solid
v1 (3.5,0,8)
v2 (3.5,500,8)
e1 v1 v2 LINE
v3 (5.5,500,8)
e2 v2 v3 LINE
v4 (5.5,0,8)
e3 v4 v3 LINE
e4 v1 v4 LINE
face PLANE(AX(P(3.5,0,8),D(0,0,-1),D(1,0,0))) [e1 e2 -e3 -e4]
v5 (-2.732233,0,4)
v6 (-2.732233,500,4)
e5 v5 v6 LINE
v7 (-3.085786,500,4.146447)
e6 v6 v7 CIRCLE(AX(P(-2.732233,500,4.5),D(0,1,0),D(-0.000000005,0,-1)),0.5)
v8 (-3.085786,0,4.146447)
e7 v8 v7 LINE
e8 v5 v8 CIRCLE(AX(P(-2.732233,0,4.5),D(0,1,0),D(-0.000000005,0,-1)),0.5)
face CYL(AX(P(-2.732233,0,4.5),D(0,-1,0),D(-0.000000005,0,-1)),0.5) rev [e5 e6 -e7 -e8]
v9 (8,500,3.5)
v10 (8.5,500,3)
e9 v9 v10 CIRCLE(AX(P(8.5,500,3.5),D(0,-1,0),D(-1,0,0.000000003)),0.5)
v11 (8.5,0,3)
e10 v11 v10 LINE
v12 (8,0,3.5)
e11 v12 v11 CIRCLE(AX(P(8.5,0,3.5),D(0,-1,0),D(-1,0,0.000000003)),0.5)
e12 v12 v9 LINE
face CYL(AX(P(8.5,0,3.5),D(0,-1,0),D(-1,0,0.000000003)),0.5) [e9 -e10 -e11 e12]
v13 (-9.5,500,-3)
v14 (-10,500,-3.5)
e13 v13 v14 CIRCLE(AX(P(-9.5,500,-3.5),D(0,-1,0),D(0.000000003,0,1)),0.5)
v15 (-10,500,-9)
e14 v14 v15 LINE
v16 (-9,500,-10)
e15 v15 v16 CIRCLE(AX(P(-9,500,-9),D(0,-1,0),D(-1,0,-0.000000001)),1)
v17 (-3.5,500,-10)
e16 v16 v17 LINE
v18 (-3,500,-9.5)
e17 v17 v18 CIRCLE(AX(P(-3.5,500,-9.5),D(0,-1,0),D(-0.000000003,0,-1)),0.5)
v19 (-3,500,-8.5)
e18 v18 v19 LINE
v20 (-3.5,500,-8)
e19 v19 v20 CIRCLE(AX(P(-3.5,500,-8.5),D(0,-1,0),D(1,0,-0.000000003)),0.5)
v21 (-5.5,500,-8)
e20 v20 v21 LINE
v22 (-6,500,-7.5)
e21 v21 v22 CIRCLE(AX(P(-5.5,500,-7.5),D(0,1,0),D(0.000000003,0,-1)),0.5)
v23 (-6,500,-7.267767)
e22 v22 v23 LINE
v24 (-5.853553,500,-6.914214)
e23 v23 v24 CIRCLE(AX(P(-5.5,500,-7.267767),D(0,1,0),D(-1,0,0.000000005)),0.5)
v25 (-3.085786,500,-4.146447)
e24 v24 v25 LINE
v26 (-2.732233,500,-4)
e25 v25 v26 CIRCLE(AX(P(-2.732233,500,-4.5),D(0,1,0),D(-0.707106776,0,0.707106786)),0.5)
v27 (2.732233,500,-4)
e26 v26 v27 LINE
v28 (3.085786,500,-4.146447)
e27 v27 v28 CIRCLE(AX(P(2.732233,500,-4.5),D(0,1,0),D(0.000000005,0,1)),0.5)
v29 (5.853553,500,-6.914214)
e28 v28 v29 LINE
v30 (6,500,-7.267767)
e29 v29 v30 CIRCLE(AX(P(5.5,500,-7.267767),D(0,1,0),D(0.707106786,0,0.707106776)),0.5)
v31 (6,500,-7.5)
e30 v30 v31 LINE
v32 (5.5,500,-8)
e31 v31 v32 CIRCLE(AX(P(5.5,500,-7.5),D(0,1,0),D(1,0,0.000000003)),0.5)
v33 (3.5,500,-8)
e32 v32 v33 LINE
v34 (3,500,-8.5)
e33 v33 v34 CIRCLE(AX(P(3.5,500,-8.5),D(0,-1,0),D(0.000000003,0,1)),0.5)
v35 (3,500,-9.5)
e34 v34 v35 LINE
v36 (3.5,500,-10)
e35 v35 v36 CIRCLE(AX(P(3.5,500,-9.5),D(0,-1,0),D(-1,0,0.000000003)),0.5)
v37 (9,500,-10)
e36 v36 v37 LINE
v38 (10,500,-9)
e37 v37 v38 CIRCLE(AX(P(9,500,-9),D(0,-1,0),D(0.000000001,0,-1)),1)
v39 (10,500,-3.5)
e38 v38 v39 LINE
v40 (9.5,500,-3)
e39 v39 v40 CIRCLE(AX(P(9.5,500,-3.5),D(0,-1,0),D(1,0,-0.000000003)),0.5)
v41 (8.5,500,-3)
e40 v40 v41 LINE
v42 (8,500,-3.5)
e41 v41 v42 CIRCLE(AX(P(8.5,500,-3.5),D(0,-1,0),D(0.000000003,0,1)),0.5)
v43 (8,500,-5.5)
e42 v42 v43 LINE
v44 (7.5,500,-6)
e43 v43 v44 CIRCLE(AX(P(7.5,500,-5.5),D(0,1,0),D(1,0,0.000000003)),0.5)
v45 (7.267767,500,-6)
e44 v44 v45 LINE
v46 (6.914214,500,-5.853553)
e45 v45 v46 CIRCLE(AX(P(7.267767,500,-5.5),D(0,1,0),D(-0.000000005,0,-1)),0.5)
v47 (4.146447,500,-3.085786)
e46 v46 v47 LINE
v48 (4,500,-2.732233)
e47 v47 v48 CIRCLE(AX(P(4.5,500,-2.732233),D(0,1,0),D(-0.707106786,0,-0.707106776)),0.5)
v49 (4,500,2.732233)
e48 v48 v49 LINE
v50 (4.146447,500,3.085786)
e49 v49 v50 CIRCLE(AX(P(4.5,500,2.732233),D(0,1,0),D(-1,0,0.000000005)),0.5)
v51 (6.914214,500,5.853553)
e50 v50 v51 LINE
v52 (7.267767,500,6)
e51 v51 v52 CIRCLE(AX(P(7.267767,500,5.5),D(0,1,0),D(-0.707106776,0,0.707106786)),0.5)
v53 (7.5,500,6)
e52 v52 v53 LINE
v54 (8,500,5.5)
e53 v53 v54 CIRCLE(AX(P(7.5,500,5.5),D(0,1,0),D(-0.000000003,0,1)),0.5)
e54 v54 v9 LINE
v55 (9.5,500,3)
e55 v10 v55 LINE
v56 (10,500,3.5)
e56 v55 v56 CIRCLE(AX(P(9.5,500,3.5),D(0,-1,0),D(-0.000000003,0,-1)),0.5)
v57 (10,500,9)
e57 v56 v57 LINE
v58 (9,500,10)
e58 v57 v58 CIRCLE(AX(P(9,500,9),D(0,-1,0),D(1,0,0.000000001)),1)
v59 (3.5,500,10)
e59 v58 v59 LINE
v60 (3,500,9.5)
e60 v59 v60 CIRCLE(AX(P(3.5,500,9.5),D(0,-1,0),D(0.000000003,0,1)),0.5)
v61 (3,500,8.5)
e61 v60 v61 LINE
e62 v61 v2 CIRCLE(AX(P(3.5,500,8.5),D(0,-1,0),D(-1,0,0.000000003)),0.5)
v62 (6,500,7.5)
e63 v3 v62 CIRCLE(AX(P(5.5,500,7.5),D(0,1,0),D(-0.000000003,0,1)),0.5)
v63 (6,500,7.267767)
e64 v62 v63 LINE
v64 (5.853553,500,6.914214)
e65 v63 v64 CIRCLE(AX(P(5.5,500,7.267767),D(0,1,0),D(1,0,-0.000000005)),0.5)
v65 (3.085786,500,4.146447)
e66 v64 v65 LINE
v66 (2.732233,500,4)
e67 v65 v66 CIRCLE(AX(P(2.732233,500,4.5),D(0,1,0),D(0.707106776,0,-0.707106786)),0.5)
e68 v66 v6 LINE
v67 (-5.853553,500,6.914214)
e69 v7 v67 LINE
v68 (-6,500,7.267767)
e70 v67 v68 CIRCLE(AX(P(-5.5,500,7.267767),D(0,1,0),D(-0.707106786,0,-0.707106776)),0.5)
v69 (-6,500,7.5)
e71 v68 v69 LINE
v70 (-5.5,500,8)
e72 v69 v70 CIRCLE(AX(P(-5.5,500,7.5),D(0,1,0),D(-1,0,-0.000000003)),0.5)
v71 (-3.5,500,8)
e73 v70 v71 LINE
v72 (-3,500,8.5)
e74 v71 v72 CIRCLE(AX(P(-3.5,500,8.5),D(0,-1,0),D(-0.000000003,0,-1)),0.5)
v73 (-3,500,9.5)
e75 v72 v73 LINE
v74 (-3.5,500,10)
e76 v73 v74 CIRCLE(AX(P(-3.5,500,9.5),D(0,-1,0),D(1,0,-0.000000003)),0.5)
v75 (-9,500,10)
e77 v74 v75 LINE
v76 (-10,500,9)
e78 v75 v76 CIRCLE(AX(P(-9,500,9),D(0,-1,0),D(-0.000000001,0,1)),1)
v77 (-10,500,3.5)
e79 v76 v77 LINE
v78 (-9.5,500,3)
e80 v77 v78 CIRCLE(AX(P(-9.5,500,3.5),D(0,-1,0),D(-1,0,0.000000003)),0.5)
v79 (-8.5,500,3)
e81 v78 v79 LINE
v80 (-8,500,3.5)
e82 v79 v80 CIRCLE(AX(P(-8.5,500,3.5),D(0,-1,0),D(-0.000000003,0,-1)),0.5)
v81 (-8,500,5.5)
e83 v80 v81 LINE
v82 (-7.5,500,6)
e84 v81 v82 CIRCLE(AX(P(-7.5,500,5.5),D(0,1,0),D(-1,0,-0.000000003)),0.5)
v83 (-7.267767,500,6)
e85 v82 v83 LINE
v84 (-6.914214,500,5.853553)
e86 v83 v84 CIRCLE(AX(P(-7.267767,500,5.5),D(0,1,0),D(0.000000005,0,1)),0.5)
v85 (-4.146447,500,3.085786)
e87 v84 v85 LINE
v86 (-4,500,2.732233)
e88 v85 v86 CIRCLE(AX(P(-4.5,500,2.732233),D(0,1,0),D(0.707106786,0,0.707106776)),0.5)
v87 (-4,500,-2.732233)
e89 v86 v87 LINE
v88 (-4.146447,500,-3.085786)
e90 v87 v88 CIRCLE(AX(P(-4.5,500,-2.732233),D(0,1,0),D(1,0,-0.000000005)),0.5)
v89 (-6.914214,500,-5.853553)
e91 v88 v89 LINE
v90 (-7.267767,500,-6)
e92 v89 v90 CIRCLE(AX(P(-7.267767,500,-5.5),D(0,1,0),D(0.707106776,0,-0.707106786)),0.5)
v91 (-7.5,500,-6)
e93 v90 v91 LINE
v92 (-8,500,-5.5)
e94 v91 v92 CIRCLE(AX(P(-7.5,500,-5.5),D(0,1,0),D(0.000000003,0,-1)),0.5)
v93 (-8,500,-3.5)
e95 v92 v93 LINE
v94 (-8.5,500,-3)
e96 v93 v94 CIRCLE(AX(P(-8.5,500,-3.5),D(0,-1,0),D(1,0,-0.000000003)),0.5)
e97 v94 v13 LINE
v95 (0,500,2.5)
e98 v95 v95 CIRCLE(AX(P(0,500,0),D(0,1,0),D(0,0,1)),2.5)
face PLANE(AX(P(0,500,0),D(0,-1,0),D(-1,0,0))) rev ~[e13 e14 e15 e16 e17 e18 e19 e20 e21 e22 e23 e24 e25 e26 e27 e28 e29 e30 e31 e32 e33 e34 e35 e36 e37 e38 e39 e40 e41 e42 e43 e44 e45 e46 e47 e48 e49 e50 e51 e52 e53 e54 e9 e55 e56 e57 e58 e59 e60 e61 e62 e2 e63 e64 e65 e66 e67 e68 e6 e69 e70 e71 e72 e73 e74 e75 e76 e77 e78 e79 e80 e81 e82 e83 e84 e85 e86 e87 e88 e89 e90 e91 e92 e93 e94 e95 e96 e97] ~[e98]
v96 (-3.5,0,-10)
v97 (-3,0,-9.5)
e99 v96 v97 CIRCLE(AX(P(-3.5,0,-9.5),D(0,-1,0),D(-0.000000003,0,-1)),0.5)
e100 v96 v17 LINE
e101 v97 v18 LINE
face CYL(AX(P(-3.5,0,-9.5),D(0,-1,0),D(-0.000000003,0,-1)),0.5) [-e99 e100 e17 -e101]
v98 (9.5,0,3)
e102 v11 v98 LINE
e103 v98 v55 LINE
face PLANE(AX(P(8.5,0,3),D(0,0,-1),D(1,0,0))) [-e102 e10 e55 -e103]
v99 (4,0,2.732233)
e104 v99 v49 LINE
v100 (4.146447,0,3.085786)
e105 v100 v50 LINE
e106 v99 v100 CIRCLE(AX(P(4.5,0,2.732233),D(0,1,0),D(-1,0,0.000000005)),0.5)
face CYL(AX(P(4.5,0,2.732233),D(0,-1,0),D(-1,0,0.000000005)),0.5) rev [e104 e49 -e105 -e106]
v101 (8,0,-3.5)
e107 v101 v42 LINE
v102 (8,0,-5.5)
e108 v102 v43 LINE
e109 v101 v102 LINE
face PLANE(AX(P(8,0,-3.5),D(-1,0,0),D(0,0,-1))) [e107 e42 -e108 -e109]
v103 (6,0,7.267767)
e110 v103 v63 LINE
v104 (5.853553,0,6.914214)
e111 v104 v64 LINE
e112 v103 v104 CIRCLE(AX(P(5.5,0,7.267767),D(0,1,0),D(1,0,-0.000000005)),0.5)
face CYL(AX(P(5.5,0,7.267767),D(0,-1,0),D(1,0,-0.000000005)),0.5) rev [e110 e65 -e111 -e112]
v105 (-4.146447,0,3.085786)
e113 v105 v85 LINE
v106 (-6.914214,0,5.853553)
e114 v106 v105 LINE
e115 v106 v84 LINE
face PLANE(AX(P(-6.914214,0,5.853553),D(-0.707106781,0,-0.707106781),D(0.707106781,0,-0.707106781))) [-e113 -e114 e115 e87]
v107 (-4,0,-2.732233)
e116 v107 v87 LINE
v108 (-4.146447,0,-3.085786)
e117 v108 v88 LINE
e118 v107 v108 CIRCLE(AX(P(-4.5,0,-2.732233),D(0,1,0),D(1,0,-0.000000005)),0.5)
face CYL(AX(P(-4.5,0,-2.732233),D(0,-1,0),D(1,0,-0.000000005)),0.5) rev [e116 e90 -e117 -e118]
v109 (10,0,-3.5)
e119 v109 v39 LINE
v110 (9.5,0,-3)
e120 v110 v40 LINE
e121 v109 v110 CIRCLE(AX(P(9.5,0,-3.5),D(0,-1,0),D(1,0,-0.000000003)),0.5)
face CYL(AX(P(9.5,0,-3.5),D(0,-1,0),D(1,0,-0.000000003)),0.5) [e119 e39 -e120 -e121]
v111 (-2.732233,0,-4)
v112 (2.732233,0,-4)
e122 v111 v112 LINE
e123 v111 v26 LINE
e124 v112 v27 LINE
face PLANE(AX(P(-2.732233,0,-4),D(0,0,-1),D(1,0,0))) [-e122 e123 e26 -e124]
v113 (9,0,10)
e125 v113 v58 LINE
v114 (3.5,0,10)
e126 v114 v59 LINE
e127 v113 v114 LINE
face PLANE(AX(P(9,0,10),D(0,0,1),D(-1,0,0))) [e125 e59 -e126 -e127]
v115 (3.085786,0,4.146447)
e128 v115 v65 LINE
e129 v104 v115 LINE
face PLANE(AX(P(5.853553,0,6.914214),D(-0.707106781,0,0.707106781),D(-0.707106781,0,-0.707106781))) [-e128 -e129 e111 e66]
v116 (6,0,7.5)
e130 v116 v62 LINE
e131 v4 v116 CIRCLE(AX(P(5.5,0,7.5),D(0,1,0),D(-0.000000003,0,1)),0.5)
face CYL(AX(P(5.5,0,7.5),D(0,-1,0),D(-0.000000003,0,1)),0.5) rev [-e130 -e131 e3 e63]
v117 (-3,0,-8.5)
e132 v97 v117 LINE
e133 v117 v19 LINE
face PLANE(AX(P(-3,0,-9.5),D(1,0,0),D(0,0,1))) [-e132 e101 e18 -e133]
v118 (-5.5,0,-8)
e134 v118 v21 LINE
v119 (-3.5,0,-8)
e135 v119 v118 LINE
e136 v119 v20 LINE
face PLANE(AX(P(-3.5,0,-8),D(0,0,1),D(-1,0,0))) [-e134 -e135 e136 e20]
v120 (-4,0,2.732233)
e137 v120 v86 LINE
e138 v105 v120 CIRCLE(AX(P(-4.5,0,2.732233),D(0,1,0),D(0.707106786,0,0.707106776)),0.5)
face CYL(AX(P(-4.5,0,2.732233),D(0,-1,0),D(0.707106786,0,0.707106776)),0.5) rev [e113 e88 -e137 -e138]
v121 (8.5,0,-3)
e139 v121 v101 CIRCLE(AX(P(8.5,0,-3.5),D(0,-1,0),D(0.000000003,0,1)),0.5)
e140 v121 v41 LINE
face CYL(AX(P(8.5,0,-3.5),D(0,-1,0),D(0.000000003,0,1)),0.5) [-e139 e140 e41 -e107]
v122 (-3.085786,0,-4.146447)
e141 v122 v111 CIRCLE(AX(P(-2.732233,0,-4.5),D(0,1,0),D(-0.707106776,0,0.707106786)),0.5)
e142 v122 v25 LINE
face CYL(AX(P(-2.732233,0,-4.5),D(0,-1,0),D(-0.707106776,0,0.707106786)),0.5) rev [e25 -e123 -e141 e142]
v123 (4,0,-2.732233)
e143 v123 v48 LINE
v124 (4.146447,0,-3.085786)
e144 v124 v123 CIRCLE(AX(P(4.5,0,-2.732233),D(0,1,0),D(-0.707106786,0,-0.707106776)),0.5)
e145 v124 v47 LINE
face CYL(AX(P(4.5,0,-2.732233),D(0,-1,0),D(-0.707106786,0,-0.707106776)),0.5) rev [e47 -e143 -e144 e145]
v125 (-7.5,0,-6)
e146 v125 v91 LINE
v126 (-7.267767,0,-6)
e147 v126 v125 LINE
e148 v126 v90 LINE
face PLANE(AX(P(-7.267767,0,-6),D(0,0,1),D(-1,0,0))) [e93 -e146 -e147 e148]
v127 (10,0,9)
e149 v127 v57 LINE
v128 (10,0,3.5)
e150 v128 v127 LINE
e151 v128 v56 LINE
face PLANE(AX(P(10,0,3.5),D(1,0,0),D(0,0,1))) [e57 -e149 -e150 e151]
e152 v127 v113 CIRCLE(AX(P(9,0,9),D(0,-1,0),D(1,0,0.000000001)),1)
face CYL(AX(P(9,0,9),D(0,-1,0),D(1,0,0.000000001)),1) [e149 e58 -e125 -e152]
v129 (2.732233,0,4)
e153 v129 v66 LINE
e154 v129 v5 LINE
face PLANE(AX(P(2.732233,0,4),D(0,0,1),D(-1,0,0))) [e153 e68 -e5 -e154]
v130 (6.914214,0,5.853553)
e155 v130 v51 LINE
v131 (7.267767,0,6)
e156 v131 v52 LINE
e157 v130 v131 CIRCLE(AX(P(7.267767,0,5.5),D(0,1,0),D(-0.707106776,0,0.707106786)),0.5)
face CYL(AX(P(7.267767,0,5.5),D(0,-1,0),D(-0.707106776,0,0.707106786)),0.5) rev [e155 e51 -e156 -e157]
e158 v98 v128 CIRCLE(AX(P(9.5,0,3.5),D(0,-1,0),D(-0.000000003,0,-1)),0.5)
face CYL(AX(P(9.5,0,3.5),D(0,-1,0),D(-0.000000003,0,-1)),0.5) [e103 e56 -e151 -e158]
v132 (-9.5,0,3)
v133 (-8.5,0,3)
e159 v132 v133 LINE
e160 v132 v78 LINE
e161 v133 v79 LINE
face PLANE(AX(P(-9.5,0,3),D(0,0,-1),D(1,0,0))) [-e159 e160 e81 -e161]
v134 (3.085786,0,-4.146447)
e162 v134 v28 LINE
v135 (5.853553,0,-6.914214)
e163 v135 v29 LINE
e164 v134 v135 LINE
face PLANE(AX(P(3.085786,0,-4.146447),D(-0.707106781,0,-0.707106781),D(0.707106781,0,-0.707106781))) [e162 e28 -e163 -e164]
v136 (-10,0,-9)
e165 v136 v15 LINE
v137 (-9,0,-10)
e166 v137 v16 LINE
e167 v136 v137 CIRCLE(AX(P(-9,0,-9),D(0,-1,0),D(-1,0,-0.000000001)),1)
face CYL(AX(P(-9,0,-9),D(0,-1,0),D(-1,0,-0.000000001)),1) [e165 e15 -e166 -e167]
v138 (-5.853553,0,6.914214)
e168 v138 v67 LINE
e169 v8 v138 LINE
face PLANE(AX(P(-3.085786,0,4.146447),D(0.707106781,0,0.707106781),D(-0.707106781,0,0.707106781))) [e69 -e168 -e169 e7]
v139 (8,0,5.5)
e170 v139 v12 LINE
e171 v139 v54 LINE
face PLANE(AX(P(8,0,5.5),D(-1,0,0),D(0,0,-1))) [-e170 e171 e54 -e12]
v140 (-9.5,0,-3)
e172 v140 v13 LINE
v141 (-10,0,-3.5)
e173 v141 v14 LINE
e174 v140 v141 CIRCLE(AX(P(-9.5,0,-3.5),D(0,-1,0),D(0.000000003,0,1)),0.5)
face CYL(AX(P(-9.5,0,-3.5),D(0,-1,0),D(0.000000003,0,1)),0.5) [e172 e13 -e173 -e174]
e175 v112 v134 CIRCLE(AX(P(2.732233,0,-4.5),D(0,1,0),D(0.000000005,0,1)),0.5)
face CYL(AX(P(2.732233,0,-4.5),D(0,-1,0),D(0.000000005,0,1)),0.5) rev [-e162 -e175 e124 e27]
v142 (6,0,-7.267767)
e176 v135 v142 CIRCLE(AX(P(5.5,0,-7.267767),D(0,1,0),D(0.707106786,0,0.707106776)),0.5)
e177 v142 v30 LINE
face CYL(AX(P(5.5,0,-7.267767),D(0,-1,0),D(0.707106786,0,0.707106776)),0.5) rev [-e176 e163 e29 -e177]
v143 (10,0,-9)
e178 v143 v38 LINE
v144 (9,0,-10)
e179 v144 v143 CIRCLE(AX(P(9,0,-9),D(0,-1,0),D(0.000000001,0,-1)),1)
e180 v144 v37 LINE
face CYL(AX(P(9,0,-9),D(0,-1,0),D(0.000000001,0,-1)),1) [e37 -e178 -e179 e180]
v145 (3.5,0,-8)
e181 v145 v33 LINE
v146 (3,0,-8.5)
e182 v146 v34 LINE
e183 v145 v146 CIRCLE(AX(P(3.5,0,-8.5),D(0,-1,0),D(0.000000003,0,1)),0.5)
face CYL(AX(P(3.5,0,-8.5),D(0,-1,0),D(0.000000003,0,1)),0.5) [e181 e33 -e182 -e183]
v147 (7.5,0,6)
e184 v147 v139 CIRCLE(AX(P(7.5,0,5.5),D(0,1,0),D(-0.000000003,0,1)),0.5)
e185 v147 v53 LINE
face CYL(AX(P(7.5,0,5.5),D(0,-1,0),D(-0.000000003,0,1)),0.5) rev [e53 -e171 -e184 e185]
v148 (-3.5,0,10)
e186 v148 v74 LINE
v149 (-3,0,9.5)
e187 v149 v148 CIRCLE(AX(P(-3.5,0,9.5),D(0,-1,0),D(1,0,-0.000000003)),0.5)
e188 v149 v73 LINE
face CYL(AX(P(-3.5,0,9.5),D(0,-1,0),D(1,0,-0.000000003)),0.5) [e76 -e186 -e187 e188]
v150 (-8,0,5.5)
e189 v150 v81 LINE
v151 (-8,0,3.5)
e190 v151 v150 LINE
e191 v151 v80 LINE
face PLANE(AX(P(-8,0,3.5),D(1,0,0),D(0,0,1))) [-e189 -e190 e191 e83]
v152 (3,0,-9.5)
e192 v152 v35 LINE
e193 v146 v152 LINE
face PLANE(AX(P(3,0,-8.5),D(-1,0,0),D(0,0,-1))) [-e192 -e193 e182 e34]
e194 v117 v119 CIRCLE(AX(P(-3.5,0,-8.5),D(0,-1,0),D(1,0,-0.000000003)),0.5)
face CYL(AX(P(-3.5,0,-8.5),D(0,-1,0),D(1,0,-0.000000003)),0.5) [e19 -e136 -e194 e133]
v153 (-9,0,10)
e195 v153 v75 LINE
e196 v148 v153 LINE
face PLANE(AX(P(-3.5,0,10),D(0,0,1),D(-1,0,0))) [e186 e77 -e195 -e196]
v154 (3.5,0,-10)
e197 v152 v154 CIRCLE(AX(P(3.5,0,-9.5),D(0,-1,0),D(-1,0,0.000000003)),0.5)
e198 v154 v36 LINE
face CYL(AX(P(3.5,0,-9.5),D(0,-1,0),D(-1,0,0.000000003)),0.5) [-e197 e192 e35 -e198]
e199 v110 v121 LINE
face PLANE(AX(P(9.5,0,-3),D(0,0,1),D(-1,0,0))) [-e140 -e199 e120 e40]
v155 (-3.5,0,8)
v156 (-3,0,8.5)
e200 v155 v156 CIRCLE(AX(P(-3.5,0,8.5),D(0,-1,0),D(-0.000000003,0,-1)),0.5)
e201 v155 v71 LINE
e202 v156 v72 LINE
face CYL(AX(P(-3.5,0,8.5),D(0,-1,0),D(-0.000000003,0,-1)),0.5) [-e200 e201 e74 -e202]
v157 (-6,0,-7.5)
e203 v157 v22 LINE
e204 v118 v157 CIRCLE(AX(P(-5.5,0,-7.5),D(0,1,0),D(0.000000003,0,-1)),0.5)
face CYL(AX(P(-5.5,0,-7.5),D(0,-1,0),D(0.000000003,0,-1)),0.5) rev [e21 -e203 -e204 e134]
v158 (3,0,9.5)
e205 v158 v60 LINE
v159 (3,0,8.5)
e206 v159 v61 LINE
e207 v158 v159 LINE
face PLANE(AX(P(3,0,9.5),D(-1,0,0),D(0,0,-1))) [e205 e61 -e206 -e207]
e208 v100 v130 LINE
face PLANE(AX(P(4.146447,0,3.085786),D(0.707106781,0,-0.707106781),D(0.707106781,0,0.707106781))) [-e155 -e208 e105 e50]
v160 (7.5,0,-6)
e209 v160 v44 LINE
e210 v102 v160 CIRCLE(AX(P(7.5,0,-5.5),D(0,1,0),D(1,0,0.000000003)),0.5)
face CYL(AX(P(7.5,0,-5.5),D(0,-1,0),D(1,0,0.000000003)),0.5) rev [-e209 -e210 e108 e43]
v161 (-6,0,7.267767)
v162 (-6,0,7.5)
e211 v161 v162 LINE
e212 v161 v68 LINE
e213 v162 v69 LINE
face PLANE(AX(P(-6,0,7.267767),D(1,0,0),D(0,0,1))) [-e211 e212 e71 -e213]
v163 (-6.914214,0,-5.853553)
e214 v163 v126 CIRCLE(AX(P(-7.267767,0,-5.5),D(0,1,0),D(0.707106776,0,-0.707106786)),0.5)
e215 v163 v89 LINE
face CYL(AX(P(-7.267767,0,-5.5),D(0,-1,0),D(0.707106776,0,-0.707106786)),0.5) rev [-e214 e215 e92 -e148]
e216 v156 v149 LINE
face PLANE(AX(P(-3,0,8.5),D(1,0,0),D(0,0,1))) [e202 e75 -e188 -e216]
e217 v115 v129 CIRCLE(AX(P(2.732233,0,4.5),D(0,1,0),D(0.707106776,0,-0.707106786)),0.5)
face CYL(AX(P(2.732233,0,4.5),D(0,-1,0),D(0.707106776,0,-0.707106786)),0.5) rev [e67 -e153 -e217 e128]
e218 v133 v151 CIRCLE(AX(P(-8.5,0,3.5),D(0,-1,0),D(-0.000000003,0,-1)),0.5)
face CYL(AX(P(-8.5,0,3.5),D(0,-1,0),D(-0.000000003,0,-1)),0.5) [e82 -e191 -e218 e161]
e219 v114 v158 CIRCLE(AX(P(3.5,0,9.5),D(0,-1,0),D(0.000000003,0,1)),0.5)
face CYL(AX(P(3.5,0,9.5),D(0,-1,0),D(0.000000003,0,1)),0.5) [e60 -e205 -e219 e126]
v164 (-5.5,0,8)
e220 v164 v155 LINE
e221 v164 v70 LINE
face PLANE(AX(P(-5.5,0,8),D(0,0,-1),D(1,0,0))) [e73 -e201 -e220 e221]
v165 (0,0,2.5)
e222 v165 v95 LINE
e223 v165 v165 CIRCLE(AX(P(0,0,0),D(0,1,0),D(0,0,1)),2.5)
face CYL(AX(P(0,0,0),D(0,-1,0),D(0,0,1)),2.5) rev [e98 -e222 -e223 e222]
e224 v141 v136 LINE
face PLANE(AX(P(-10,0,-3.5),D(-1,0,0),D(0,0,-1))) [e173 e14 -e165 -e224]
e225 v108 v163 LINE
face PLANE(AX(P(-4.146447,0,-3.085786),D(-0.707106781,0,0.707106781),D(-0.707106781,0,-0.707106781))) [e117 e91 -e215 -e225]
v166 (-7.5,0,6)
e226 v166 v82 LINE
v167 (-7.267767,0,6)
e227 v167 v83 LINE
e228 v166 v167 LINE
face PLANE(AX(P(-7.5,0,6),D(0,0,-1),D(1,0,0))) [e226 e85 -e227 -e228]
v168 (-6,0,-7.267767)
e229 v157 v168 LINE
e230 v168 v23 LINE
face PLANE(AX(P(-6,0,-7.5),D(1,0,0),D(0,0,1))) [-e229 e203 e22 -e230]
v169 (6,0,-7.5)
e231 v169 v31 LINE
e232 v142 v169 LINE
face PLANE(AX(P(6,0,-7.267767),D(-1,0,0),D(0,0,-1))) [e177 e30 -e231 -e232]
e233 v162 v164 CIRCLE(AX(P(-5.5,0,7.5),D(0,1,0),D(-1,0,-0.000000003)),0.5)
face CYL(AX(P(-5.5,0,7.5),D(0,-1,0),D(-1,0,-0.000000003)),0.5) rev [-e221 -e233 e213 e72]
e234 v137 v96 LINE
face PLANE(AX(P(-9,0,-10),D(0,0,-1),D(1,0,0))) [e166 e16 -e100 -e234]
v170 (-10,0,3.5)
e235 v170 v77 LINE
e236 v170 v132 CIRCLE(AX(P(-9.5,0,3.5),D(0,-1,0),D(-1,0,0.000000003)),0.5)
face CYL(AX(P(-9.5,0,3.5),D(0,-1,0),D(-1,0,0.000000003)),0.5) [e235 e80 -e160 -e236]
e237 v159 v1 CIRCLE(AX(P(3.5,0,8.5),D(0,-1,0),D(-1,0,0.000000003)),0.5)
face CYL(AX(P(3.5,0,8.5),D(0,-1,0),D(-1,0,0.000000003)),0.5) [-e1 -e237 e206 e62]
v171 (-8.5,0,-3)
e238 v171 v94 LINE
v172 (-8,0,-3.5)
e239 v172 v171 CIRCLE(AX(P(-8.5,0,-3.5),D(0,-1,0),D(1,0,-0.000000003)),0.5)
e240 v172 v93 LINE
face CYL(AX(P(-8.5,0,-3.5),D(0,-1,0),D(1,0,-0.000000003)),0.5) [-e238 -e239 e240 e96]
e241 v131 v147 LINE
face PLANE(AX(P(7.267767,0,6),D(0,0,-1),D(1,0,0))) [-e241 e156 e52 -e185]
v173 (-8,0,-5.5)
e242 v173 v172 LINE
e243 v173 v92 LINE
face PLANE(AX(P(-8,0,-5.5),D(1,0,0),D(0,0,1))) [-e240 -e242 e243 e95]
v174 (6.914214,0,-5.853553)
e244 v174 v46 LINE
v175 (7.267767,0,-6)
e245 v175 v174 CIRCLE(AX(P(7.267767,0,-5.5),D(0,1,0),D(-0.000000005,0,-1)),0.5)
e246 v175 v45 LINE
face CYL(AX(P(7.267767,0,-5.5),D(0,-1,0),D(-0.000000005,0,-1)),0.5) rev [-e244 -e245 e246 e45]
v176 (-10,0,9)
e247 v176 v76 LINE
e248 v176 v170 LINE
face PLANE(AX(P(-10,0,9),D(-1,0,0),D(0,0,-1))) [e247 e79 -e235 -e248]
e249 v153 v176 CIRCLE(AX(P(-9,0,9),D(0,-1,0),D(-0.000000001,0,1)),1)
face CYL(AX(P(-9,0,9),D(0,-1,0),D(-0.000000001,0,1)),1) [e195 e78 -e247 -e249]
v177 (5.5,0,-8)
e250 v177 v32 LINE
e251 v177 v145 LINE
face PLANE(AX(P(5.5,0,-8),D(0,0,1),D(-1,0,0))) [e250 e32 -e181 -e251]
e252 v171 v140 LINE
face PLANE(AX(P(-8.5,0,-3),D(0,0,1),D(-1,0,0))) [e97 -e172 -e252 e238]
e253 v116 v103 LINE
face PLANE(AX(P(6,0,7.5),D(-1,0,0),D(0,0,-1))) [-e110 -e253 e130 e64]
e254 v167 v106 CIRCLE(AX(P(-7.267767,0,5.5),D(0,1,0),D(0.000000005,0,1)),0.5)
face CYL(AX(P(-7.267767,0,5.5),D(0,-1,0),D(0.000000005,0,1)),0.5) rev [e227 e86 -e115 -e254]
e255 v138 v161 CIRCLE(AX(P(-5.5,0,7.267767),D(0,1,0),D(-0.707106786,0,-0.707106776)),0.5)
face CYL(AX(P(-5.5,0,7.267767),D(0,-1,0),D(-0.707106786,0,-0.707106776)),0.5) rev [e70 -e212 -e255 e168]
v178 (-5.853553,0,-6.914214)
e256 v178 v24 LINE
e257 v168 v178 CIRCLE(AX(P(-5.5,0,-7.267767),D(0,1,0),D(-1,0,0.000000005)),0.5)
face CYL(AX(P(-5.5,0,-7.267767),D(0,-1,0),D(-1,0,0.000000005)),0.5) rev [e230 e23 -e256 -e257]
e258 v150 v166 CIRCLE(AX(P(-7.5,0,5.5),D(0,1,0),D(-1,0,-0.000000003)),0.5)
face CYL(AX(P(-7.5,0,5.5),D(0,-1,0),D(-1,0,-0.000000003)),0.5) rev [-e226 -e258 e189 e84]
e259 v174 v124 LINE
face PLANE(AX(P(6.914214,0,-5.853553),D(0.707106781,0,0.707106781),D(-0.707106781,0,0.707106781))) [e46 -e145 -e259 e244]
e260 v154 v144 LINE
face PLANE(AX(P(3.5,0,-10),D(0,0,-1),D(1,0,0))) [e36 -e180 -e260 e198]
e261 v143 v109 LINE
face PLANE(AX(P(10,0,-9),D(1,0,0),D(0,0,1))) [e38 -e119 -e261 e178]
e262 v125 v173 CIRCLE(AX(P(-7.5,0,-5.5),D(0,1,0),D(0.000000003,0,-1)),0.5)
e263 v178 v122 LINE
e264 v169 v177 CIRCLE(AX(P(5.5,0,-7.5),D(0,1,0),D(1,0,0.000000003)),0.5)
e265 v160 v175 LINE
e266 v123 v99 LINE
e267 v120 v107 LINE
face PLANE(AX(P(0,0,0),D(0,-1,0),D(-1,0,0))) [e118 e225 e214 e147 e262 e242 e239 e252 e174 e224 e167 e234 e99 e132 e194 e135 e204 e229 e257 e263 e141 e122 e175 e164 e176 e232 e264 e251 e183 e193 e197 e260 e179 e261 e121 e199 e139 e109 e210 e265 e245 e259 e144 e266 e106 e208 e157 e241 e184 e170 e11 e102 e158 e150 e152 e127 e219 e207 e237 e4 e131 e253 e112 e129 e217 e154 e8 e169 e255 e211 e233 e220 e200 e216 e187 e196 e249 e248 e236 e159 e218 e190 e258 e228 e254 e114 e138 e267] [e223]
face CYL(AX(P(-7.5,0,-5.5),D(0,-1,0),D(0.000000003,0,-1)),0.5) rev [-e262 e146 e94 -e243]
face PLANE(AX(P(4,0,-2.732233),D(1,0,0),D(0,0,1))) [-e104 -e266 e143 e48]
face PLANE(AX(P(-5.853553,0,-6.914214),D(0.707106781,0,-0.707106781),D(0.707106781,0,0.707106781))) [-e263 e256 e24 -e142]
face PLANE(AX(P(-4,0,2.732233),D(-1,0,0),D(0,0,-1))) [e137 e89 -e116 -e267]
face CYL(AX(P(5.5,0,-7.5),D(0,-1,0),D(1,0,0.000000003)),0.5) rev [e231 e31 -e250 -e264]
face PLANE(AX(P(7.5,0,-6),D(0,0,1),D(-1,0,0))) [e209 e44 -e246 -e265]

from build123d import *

# Parameters (mm, degrees)
SKETCH1_R           = 2.5
BOSS_EXTRUDE1_DEPTH = 500


with BuildPart() as part:
    # Sketch1 → Boss-Extrude1 (new body)
    with BuildSketch(Plane(origin=(0, 0, 0), x_dir=(1, 0, 0), z_dir=(0, 1, 0))):
        with BuildLine():
            Line((10, 9), (10, 3.5))
            ThreePointArc((10, 3.5), (9.853553391, 3.146446609), (9.5, 3))
            Line((9.5, 3), (8.5, 3))
            ThreePointArc((8.5, 3), (8.146446609, 3.146446609), (8, 3.5))
            Line((8, 3.5), (8, 5.5))
            ThreePointArc((8, 5.5), (7.853553391, 5.853553391), (7.5, 6))
            Line((7.5, 6), (7.267766953, 6))
            ThreePointArc((7.267766953, 6), (7.076425237, 5.961939766), (6.914213562, 5.853553391))
            Line((6.914213562, 5.853553391), (4.146446609, 3.085786438))
            ThreePointArc((4.146446609, 3.085786438), (4.038060234, 2.923574763), (4, 2.732233047))
            Line((4, 2.732233047), (4, -2.732233047))
            ThreePointArc((4, -2.732233047), (4.038060234, -2.923574763), (4.146446609, -3.085786438))
            Line((4.146446609, -3.085786438), (6.914213562, -5.853553391))
            ThreePointArc((6.914213562, -5.853553391), (7.076425237, -5.961939766), (7.267766953, -6))
            Line((7.267766953, -6), (7.5, -6))
            ThreePointArc((7.5, -6), (7.853553391, -5.853553391), (8, -5.5))
            Line((8, -5.5), (8, -3.5))
            ThreePointArc((8, -3.5), (8.146446609, -3.146446609), (8.5, -3))
            Line((8.5, -3), (9.5, -3))
            ThreePointArc((9.5, -3), (9.853553391, -3.146446609), (10, -3.5))
            Line((10, -3.5), (10, -9))
            ThreePointArc((10, -9), (9.707106781, -9.707106781), (9, -10))
            Line((9, -10), (3.5, -10))
            ThreePointArc((3.5, -10), (3.146446609, -9.853553391), (3, -9.5))
            Line((3, -9.5), (3, -8.5))
            ThreePointArc((3, -8.5), (3.146446609, -8.146446609), (3.5, -8))
            Line((3.5, -8), (5.5, -8))
            ThreePointArc((5.5, -8), (5.853553391, -7.853553391), (6, -7.5))
            Line((6, -7.5), (6, -7.267766953))
            ThreePointArc((6, -7.267766953), (5.961939766, -7.076425237), (5.853553391, -6.914213562))
            Line((5.853553391, -6.914213562), (3.085786438, -4.146446609))
            ThreePointArc((3.085786438, -4.146446609), (2.923574763, -4.038060234), (2.732233047, -4))
            Line((2.732233047, -4), (-2.732233047, -4))
            ThreePointArc((-2.732233047, -4), (-2.923574763, -4.038060234), (-3.085786438, -4.146446609))
            Line((-3.085786438, -4.146446609), (-5.853553391, -6.914213562))
            ThreePointArc((-5.853553391, -6.914213562), (-5.961939766, -7.076425237), (-6, -7.267766953))
            Line((-6, -7.267766953), (-6, -7.5))
            ThreePointArc((-6, -7.5), (-5.853553391, -7.853553391), (-5.5, -8))
            Line((-5.5, -8), (-3.5, -8))
            ThreePointArc((-3.5, -8), (-3.146446609, -8.146446609), (-3, -8.5))
            Line((-3, -8.5), (-3, -9.5))
            ThreePointArc((-3, -9.5), (-3.146446609, -9.853553391), (-3.5, -10))
            Line((-3.5, -10), (-9, -10))
            ThreePointArc((-9, -10), (-9.707106781, -9.707106781), (-10, -9))
            Line((-10, -9), (-10, -3.5))
            ThreePointArc((-10, -3.5), (-9.853553391, -3.146446609), (-9.5, -3))
            Line((-9.5, -3), (-8.5, -3))
            ThreePointArc((-8.5, -3), (-8.146446609, -3.146446609), (-8, -3.5))
            Line((-8, -3.5), (-8, -5.5))
            ThreePointArc((-8, -5.5), (-7.853553391, -5.853553391), (-7.5, -6))
            Line((-7.5, -6), (-7.267766953, -6))
            ThreePointArc((-7.267766953, -6), (-7.076425237, -5.961939766), (-6.914213562, -5.853553391))
            Line((-6.914213562, -5.853553391), (-4.146446609, -3.085786438))
            ThreePointArc((-4.146446609, -3.085786438), (-4.038060234, -2.923574763), (-4, -2.732233047))
            Line((-4, -2.732233047), (-4, 2.732233047))
            ThreePointArc((-4, 2.732233047), (-4.038060234, 2.923574763), (-4.146446609, 3.085786438))
            Line((-4.146446609, 3.085786438), (-6.914213562, 5.853553391))
            ThreePointArc((-6.914213562, 5.853553391), (-7.076425237, 5.961939766), (-7.267766953, 6))
            Line((-7.267766953, 6), (-7.5, 6))
            ThreePointArc((-7.5, 6), (-7.853553391, 5.853553391), (-8, 5.5))
            Line((-8, 5.5), (-8, 3.5))
            ThreePointArc((-8, 3.5), (-8.146446609, 3.146446609), (-8.5, 3))
            Line((-8.5, 3), (-9.5, 3))
            ThreePointArc((-9.5, 3), (-9.853553391, 3.146446609), (-10, 3.5))
            Line((-10, 3.5), (-10, 9))
            ThreePointArc((-10, 9), (-9.707106781, 9.707106781), (-9, 10))
            Line((-9, 10), (-3.5, 10))
            ThreePointArc((-3.5, 10), (-3.146446609, 9.853553391), (-3, 9.5))
            Line((-3, 9.5), (-3, 8.5))
            ThreePointArc((-3, 8.5), (-3.146446609, 8.146446609), (-3.5, 8))
            Line((-3.5, 8), (-5.5, 8))
            ThreePointArc((-5.5, 8), (-5.853553391, 7.853553391), (-6, 7.5))
            Line((-6, 7.5), (-6, 7.267766953))
            ThreePointArc((-6, 7.267766953), (-5.961939766, 7.076425237), (-5.853553391, 6.914213562))
            Line((-5.853553391, 6.914213562), (-3.085786438, 4.146446609))
            ThreePointArc((-3.085786438, 4.146446609), (-2.923574763, 4.038060234), (-2.732233047, 4))
            Line((-2.732233047, 4), (2.732233047, 4))
            ThreePointArc((2.732233047, 4), (2.923574763, 4.038060234), (3.085786438, 4.146446609))
            Line((3.085786438, 4.146446609), (5.853553391, 6.914213562))
            ThreePointArc((5.853553391, 6.914213562), (5.961939766, 7.076425237), (6, 7.267766953))
            Line((6, 7.267766953), (6, 7.5))
            ThreePointArc((6, 7.5), (5.853553391, 7.853553391), (5.5, 8))
            Line((5.5, 8), (3.5, 8))
            ThreePointArc((3.5, 8), (3.146446609, 8.146446609), (3, 8.5))
            Line((3, 8.5), (3, 9.5))
            ThreePointArc((3, 9.5), (3.146446609, 9.853553391), (3.5, 10))
            Line((3.5, 10), (9, 10))
            ThreePointArc((9, 10), (9.707106781, 9.707106781), (10, 9))
        make_face()
        with Locations(Location((0, 0, 0), (0, 0, 270))):
            Circle(SKETCH1_R, mode=Mode.SUBTRACT)
    extrude(amount=BOSS_EXTRUDE1_DEPTH)


solid = part.part
